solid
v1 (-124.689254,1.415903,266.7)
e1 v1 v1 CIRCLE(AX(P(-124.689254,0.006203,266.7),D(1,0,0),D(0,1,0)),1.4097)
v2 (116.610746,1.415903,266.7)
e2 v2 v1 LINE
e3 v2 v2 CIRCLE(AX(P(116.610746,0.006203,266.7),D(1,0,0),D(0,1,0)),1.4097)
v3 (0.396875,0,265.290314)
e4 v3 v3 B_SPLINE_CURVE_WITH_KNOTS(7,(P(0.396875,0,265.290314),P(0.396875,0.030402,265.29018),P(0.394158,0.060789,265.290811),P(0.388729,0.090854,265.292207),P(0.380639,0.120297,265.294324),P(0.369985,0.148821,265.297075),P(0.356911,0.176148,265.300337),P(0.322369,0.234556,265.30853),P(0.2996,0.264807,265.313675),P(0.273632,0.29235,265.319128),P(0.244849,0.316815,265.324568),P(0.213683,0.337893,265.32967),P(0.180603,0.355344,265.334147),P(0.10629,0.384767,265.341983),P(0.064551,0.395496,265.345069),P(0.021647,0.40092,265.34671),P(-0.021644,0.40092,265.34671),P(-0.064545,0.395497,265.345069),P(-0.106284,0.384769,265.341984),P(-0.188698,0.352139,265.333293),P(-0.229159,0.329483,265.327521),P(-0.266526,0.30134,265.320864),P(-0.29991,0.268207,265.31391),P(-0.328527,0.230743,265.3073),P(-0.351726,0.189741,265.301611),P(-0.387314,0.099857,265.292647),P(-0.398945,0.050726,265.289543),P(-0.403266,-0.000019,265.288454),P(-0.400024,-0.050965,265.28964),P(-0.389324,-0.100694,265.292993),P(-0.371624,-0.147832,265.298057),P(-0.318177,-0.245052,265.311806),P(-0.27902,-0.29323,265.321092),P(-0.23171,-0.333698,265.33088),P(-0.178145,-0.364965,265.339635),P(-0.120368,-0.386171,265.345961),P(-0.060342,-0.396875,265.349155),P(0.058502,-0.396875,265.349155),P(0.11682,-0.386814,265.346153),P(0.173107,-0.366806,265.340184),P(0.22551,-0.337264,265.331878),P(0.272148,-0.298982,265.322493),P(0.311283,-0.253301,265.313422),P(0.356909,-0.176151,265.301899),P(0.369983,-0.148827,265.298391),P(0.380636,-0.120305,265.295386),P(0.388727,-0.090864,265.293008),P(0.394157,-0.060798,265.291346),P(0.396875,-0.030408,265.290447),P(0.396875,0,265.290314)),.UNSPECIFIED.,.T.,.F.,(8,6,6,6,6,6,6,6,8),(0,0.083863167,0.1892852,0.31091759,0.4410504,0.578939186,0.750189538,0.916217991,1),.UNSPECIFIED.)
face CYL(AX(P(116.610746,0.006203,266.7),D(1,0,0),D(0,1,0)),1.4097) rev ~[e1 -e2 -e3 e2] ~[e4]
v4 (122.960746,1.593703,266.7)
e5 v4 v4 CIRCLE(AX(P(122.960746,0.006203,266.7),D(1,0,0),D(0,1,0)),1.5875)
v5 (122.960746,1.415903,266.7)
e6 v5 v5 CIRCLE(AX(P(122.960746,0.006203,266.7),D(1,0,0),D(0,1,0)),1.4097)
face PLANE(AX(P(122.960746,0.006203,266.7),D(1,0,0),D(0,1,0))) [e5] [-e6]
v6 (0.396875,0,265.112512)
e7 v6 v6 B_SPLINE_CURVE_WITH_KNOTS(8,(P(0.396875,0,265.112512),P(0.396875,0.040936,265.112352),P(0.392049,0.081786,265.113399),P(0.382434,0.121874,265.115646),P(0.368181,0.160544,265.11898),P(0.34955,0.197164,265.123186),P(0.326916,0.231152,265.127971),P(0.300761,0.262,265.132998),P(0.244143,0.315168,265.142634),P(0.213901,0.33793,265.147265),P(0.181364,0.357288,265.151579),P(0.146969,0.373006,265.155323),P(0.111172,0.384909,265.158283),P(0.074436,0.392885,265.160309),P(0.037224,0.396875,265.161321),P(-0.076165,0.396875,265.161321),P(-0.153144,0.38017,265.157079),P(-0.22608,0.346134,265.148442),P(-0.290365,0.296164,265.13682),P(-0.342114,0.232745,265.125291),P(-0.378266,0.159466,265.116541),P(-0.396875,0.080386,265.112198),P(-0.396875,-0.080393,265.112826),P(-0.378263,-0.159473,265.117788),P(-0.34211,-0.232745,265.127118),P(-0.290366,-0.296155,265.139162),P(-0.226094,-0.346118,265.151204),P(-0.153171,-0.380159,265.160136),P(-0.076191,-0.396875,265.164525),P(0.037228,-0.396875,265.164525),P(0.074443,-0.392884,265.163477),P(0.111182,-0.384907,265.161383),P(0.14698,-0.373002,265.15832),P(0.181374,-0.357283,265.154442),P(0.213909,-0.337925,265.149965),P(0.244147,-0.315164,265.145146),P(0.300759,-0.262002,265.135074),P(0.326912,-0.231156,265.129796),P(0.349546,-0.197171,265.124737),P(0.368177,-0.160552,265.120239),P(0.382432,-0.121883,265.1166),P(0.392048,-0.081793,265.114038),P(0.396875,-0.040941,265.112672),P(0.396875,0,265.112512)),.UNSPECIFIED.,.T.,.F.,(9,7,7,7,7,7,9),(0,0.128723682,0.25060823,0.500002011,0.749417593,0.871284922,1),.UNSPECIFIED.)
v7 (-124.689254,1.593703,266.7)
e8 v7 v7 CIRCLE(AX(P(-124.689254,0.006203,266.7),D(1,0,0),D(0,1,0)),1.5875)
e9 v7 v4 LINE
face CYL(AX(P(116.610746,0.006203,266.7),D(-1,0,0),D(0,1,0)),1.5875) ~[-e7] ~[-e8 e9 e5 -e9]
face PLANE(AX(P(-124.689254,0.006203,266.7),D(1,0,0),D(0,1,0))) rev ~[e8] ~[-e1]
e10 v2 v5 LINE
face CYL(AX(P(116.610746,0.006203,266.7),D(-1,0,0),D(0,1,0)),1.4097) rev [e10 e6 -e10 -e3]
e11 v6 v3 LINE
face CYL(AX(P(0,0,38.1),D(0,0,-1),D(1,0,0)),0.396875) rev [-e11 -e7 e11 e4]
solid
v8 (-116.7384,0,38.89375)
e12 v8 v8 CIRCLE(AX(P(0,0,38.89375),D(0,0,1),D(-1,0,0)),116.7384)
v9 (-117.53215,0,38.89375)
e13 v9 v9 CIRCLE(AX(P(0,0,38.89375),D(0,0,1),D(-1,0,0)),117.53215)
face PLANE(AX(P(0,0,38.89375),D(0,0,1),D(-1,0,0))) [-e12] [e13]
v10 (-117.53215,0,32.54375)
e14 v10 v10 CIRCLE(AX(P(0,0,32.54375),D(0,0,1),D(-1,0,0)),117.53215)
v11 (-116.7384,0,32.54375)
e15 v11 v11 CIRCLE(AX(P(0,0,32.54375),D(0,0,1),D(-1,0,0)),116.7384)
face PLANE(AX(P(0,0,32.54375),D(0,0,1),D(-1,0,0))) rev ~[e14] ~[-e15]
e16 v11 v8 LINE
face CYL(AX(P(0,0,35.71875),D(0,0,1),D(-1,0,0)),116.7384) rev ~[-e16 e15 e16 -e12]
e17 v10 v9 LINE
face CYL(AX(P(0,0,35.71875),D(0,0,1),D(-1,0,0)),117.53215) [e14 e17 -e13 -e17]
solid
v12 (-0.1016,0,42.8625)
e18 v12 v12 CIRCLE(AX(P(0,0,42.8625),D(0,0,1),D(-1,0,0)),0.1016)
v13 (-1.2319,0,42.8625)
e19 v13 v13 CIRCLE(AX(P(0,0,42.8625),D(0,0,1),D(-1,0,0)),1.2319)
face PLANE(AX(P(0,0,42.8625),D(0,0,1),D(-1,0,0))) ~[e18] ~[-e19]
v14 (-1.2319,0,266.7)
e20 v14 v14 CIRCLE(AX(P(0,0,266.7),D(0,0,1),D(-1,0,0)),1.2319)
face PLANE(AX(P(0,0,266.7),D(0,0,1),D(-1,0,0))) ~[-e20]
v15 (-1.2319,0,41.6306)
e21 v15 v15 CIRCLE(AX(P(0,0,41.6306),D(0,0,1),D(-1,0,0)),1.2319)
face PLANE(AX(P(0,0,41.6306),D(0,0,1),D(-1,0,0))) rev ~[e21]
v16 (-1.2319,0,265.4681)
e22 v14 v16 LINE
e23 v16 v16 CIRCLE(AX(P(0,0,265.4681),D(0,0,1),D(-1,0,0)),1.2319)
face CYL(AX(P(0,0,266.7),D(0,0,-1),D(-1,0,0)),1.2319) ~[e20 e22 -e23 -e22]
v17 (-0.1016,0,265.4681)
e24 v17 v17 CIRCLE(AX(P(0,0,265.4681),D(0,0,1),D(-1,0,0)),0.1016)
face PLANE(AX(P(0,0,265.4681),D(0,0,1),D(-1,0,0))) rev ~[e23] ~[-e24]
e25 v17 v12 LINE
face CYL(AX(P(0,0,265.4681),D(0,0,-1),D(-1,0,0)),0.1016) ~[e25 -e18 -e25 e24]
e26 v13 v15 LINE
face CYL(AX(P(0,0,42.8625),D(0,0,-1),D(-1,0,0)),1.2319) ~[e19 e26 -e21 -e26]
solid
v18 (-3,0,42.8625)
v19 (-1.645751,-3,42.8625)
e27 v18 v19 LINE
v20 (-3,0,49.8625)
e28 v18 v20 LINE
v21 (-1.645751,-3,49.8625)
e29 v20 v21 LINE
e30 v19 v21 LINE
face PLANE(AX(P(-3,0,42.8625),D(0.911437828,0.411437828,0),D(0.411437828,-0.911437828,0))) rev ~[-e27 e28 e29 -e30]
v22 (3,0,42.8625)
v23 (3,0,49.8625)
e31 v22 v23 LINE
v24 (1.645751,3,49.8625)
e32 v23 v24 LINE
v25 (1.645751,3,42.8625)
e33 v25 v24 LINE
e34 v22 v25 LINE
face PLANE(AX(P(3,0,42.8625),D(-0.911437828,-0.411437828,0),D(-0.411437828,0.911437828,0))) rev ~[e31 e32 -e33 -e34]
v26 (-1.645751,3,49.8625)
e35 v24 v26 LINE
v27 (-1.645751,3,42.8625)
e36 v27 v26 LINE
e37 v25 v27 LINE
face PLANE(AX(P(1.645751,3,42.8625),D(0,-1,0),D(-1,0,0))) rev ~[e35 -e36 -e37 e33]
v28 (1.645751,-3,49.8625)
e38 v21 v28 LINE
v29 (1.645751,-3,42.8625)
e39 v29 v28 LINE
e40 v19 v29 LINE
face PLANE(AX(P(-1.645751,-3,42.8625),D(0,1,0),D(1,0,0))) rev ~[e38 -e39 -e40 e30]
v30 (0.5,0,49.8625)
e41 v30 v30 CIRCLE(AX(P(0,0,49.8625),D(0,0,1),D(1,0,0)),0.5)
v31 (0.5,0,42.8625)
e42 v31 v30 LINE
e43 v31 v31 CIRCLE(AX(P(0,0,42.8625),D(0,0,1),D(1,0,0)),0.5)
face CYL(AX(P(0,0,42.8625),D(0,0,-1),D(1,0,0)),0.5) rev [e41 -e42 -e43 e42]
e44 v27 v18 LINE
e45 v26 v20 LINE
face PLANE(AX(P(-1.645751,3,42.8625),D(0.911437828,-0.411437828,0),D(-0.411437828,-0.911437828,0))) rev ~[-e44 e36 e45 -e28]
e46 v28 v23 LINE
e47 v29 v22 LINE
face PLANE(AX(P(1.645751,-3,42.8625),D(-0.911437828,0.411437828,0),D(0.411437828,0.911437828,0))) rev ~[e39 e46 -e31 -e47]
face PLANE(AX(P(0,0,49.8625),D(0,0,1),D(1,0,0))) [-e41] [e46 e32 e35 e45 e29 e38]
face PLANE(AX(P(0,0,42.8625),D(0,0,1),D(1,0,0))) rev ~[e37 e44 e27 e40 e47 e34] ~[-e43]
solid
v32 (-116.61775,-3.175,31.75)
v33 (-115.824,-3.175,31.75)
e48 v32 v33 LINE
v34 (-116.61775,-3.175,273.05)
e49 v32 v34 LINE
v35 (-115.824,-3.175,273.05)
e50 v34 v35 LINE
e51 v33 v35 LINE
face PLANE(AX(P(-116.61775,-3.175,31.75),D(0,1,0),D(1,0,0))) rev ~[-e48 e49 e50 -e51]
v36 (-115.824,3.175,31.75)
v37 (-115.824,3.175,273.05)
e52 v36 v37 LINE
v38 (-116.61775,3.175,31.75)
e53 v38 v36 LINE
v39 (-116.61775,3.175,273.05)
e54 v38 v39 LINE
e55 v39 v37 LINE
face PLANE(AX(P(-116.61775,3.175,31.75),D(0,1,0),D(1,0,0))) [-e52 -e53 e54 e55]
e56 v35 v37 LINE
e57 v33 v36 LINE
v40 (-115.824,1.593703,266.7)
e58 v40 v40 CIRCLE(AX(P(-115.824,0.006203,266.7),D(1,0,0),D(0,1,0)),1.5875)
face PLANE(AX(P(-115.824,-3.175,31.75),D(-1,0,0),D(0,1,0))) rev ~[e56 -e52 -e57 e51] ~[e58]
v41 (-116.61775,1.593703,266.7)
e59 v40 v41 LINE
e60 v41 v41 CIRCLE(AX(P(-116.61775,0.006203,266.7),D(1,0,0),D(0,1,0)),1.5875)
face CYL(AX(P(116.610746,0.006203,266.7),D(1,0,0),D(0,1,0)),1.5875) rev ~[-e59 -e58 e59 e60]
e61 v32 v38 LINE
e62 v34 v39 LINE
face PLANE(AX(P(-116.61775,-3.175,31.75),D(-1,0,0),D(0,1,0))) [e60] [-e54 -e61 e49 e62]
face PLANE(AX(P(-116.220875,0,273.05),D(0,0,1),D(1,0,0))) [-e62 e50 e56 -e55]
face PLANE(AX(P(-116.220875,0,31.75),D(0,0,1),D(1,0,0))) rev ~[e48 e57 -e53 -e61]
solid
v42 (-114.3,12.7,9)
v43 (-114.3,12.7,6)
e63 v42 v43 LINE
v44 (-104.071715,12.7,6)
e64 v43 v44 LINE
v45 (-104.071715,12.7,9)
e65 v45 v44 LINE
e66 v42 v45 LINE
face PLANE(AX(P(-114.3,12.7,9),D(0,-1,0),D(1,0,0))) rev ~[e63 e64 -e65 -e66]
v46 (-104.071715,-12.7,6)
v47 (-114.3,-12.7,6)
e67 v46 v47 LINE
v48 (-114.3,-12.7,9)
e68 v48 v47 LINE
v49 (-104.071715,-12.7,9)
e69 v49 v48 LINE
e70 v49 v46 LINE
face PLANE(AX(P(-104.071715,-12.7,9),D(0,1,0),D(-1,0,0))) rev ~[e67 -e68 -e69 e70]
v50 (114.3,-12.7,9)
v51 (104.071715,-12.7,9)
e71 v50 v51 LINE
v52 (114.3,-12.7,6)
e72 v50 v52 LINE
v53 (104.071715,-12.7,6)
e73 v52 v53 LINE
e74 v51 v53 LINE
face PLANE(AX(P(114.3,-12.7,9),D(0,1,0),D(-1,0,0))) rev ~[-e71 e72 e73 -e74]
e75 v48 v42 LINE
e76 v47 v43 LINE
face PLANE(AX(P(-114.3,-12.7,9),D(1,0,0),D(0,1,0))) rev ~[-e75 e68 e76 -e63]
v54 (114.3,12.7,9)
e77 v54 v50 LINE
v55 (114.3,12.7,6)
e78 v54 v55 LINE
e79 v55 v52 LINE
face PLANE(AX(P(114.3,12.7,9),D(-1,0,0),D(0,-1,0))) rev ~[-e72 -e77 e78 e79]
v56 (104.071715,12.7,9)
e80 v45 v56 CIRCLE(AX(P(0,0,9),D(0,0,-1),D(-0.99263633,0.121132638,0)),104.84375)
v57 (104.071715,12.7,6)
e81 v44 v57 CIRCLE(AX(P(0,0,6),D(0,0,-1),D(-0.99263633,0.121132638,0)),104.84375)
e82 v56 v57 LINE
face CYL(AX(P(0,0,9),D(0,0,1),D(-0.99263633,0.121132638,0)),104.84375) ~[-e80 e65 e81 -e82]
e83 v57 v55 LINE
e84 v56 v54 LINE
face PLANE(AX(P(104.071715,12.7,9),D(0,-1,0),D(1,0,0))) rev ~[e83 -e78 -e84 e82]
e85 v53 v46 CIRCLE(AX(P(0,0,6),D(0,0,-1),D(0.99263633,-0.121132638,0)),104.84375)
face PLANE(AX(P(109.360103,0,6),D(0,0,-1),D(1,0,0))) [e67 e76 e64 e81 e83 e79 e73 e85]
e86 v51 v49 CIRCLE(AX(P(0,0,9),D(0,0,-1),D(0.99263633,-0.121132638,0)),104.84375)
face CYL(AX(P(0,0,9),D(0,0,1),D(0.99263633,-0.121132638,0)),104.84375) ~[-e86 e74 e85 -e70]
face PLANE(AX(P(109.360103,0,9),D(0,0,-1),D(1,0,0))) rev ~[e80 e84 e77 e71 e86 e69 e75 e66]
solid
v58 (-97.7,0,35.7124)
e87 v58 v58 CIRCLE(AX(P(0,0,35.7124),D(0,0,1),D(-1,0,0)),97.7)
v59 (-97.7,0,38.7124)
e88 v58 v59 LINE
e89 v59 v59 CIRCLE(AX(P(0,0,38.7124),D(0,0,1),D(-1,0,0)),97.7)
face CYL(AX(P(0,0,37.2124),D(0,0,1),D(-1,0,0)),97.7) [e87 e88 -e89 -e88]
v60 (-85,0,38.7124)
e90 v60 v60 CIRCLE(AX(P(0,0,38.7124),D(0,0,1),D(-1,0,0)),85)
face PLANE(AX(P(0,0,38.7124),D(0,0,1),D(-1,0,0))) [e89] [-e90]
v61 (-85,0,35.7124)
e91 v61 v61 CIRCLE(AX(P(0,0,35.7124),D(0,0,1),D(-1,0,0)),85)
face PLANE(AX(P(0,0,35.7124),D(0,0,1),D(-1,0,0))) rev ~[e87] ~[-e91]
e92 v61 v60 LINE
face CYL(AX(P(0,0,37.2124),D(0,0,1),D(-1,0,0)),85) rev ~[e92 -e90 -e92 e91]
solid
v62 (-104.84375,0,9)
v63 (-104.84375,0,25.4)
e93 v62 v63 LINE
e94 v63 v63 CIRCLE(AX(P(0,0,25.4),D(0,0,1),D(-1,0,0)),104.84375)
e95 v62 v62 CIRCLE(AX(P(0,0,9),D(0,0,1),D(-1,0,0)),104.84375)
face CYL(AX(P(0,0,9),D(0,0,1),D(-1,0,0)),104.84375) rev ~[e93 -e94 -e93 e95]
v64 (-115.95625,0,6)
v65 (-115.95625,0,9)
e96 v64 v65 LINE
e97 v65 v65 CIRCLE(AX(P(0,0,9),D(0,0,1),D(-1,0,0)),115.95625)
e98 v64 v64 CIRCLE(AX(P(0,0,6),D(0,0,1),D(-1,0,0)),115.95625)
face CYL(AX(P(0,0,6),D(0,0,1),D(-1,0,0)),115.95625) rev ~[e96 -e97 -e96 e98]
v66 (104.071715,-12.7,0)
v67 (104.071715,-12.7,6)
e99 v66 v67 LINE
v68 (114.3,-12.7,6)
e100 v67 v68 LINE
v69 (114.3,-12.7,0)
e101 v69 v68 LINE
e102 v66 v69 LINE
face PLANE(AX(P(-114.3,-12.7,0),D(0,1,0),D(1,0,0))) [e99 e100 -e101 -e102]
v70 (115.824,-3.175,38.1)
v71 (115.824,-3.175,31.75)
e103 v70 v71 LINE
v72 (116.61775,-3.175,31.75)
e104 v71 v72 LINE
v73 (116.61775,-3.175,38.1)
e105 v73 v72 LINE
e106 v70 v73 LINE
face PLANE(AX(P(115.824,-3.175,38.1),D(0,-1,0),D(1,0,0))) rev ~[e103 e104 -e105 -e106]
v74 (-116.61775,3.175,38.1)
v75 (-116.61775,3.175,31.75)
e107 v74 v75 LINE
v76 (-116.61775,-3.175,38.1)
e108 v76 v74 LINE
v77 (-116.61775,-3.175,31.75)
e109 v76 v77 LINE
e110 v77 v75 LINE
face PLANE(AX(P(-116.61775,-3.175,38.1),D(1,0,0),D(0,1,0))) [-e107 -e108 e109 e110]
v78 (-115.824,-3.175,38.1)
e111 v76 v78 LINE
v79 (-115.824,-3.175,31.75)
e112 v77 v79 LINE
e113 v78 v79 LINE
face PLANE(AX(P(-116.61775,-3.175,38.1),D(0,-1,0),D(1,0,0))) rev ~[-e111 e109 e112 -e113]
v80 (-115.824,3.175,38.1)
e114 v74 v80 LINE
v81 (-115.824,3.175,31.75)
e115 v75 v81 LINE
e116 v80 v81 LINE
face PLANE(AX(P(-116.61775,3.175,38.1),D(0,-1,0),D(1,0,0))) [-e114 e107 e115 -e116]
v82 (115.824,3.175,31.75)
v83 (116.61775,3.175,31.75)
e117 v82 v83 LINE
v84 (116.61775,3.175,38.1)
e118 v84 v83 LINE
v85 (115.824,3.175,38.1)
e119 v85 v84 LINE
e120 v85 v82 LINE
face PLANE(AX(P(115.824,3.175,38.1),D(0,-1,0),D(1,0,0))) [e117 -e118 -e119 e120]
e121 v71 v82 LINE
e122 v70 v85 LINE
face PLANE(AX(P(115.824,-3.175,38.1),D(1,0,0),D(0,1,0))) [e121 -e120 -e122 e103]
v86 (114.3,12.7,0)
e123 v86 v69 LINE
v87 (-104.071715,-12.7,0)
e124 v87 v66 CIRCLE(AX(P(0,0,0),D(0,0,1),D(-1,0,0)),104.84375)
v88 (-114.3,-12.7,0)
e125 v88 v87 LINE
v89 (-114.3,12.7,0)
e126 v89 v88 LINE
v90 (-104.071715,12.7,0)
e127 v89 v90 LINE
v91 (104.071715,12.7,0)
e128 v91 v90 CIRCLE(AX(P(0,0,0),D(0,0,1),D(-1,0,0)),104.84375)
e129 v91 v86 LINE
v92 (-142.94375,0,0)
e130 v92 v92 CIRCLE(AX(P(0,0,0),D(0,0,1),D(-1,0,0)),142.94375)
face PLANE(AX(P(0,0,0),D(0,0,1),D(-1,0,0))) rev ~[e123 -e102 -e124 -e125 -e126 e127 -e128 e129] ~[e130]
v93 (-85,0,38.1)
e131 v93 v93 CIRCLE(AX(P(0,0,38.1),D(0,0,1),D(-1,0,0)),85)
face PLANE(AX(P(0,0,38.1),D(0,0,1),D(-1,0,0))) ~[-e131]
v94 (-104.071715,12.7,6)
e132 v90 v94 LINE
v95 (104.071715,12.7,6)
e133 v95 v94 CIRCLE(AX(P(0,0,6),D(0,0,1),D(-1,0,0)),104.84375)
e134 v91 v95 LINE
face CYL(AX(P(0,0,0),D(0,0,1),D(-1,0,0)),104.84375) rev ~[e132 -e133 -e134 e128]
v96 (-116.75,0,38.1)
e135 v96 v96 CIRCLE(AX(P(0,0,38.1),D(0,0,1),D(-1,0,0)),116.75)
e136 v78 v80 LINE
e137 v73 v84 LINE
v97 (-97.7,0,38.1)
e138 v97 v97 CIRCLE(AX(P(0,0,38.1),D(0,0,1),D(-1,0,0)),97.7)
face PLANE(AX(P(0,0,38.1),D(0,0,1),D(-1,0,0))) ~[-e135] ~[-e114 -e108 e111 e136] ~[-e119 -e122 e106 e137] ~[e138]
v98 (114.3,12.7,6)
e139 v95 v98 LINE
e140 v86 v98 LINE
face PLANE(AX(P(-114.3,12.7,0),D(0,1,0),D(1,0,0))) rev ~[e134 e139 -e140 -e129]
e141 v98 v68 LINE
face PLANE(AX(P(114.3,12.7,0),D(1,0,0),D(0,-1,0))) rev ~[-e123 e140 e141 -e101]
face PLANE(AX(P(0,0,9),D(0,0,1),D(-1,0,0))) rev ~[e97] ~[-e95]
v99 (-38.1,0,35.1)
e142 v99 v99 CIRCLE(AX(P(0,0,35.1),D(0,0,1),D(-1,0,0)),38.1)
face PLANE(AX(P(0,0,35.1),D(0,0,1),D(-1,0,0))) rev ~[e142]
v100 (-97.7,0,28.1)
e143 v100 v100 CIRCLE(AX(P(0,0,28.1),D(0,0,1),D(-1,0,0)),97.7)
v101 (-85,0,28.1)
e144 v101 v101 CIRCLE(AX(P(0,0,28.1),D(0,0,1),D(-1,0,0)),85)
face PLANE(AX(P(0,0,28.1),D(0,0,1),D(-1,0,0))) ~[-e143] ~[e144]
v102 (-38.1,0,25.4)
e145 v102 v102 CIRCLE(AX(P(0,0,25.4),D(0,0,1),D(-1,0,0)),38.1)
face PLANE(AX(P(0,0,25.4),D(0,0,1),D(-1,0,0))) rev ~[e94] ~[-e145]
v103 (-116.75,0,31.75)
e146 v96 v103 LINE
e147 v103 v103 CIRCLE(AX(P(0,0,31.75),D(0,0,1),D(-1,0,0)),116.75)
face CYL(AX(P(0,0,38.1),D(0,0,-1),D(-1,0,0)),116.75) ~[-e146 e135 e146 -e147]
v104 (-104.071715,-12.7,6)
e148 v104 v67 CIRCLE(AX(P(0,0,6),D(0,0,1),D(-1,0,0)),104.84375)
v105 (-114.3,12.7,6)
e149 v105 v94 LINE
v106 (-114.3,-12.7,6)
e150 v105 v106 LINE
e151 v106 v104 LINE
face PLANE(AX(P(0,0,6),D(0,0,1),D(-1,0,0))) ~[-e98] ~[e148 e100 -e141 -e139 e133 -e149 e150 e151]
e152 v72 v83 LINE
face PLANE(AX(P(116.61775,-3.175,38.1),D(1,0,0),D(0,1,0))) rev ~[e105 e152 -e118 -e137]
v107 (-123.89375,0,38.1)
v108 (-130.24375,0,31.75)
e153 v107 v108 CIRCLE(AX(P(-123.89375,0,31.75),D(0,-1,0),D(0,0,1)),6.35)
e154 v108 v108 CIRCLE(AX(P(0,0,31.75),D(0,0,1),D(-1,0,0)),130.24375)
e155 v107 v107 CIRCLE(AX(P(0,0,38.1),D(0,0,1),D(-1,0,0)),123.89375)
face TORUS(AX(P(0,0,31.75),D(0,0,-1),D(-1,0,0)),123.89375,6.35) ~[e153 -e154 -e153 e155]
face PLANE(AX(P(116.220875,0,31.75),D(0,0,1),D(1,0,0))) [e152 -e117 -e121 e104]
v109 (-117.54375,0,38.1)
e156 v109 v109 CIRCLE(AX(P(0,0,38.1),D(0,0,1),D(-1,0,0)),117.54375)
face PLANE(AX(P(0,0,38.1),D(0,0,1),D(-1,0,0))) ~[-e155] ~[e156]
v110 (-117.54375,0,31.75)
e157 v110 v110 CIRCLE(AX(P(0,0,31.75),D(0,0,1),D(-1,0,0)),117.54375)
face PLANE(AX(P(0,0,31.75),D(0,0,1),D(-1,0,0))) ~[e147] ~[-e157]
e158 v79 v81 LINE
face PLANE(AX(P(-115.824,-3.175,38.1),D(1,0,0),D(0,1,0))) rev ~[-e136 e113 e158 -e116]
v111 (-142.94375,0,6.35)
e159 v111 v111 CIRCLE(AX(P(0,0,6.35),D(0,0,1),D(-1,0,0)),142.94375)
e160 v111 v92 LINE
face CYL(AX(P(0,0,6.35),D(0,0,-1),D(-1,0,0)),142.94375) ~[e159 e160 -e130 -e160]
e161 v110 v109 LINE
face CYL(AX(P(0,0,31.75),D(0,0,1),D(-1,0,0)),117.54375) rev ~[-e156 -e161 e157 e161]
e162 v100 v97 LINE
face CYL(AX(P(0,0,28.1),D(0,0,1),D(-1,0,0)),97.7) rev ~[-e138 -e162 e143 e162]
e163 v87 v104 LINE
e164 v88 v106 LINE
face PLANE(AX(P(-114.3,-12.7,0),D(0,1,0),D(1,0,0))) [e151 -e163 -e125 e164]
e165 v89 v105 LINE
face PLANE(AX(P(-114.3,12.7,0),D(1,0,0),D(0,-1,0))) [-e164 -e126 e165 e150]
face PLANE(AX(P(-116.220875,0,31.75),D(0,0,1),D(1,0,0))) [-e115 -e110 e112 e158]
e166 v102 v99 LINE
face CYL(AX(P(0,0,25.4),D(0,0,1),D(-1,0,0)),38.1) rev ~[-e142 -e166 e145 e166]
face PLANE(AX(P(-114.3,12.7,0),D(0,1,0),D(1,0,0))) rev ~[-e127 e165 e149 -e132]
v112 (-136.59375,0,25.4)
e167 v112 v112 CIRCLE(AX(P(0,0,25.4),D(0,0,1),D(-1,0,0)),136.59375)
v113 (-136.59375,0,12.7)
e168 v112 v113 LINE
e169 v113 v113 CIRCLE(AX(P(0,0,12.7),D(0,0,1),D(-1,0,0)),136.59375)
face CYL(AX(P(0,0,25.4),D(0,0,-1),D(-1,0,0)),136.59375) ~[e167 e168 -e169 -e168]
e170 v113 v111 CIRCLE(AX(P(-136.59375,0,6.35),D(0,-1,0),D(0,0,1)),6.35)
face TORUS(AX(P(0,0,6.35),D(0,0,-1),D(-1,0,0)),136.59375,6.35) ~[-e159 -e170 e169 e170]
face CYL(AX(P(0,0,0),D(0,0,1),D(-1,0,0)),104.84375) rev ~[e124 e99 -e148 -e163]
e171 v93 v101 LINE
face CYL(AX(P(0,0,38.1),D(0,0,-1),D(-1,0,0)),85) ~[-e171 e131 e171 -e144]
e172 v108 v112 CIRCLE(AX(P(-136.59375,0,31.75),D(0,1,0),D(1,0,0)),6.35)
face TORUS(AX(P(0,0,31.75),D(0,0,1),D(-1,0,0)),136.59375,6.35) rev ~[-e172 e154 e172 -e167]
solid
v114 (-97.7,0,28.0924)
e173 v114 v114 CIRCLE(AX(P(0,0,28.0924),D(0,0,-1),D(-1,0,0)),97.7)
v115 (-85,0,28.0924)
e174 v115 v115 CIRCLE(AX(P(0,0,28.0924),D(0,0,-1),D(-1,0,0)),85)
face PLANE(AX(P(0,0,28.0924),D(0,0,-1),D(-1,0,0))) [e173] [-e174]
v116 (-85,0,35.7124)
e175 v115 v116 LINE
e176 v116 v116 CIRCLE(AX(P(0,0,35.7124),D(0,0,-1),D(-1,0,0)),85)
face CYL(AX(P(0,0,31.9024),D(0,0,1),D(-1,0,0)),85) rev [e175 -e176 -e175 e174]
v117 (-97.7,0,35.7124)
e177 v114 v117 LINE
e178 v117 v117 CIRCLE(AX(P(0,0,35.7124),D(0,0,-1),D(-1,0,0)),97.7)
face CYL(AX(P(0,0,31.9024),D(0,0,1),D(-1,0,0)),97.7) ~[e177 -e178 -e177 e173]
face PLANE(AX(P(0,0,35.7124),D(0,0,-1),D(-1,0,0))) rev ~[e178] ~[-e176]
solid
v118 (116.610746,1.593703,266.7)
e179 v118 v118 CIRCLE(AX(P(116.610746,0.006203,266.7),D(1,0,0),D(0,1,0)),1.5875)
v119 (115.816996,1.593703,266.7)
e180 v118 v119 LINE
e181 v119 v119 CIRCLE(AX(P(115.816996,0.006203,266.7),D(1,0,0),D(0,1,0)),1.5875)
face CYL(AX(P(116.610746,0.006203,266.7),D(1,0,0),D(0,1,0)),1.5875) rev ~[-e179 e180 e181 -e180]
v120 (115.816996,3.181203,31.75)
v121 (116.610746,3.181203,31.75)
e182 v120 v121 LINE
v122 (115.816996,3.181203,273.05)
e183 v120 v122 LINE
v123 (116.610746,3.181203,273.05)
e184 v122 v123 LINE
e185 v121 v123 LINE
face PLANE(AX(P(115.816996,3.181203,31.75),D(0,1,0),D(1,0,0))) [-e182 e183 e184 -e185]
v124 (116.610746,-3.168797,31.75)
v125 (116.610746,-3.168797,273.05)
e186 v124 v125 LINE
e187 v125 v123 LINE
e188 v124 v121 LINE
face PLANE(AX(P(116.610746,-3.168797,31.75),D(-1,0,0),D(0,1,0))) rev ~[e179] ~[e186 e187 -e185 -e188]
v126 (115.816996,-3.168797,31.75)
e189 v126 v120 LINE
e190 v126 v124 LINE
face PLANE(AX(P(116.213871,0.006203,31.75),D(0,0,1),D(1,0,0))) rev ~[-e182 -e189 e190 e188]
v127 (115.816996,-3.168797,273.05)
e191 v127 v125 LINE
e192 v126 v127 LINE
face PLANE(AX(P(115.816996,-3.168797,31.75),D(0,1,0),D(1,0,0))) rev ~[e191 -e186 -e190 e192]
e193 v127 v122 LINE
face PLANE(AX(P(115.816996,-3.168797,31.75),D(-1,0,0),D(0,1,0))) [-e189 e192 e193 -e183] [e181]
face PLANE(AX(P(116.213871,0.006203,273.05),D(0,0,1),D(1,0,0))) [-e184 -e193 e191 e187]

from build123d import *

# Parameters (mm, degrees)
F2_W           = 228.6
F2_H           = 25.4
F3_DEPTH       = 9
F4_W           = 0.79375
F4_H           = 6.35
F5_DEPTH       = 6.35
F6_W           = 12.7
F6_H           = 7.62
F8_W           = 12.7
F8_H           = 3
F10_W          = 0.79375
F10_H          = 6.35
F13_DEPTH      = 3
F14_W          = 0.79375
F14_H          = 6.35
F15_DEPTH      = 241.3
F16_R          = 1.5875
F17_DEPTH      = 259.5554955015
F18_R          = 1.5875
F18_R_2        = 1.4097
F19_DEPTH      = 241.3
F19_DEPTH_BACK = 6.35
F20_R          = 0.396875
F21_DEPTH      = 228.6
F24_R          = 1.2319
F24_R_2        = 0.5
F25_DEPTH      = 7


with BuildPart() as f1:
    # F0 (on Front) → F1 (revolve)
    with BuildSketch(Plane.XZ):
        with BuildLine():
            Line((0, 35.1), (0, 38.1))
            Line((0, 38.1), (-85, 38.1))
            Line((-85, 38.1), (-85, 28.1))
            Line((-85, 28.1), (-97.7, 28.1))
            Line((-97.7, 28.1), (-97.7, 38.1))
            Line((-97.7, 38.1), (-116.75, 38.1))
            Line((-116.75, 38.1), (-116.75, 31.75))
            Line((-116.75, 31.75), (-117.54375, 31.75))
            Line((-117.54375, 31.75), (-117.54375, 38.1))
            Line((-117.54375, 38.1), (-123.89375, 38.1))
            ThreePointArc((-123.89375, 38.1), (-128.3838780605, 36.2401280605), (-130.24375, 31.75))
            ThreePointArc((-130.24375, 31.75), (-132.1036219395, 27.2598719395), (-136.59375, 25.4))
            Line((-136.59375, 25.4), (-136.59375, 12.7))
            ThreePointArc((-136.59375, 12.7), (-141.0838780605, 10.8401280605), (-142.94375, 6.35))
            Line((-142.94375, 6.35), (-142.94375, 0))
            Line((-142.94375, 0), (-104.84375, 0))
            Line((-104.84375, 0), (-104.84375, 6))
            Line((-104.84375, 6), (-115.95625, 6))
            Line((-115.95625, 6), (-115.95625, 9))
            Line((-115.95625, 9), (-104.84375, 9))
            Line((-104.84375, 9), (-104.84375, 25.4))
            Line((-104.84375, 25.4), (-38.1, 25.4))
            Line((-38.1, 25.4), (-38.1, 35.1))
            Line((-38.1, 35.1), (0, 35.1))
        make_face()
    revolve(axis=Axis((0, 0, 36.6), (0, 0, 1)))

    # F2 (on face) → F3 (cut, through all)
    with BuildSketch(Plane(origin=(0, 0, 0), x_dir=(1, 0, 0), z_dir=(0, 0, -1))):
        Rectangle(F2_W, F2_H)
    extrude(amount=-F3_DEPTH, mode=Mode.SUBTRACT)

    # F4 (on face) → F5 (cut)
    with BuildSketch(Plane.XY.offset(38.1)):
        with Locations((-116.220875, 0)):
            Rectangle(F4_W, F4_H)
        with Locations((116.220875, 0)):
            Rectangle(F4_W, F4_H)
    extrude(amount=-F5_DEPTH, mode=Mode.SUBTRACT)


with BuildPart() as f7:
    # F6 (on Front) → F7 (revolve)
    with BuildSketch(Plane.XZ):
        with Locations((-91.35, 31.9024)):
            Rectangle(F6_W, F6_H)
    revolve(axis=Axis((0, 0, 31.9024), (0, 0, -1)))


with BuildPart() as f9:
    # F8 (on Front) → F9 (revolve)
    with BuildSketch(Plane.XZ):
        with Locations((-91.35, 37.2124)):
            Rectangle(F8_W, F8_H)
    revolve(axis=Axis((0, 0, 37.2124), (0, 0, 1)))


with BuildPart() as f11:
    # F10 (on Front) → F11 (revolve)
    with BuildSketch(Plane.XZ):
        with Locations((-117.135275, 35.71875)):
            Rectangle(F10_W, F10_H)
    revolve(axis=Axis((0, 0, 16.271875), (0, 0, 1)))


with BuildPart() as f13:
    # F12 (on face) → F13 (new body)
    with BuildSketch(Plane(origin=(0, 0, 9), x_dir=(1, 0, 0), z_dir=(0, 0, -1))):
        with BuildLine():
            Line((114.3, 12.7), (104.0717152451, 12.7))
            ThreePointArc((104.0717152451, 12.7), (104.6505633269, 6.3617222052), (104.84375, 0))
            ThreePointArc((104.84375, 0), (104.6505633269, -6.3617222052), (104.0717152451, -12.7))
            Line((104.0717152451, -12.7), (114.3, -12.7))
            Line((114.3, -12.7), (114.3, 12.7))
        make_face()
        with BuildLine():
            ThreePointArc((-104.0717152451, -12.7), (-104.84375, 0), (-104.0717152451, 12.7))
            Line((-104.0717152451, 12.7), (-114.3, 12.7))
            Line((-114.3, 12.7), (-114.3, -12.7))
            Line((-114.3, -12.7), (-104.0717152451, -12.7))
        make_face()
        with BuildLine():
            ThreePointArc((104.84375, 0), (104.6505633269, 6.3617222052), (104.0717152451, 12.7))
            ThreePointArc((104.0717152451, 12.7), (0, 104.84375), (-104.0717152451, 12.7))
            ThreePointArc((-104.0717152451, 12.7), (-104.84375, 0), (-104.0717152451, -12.7))
            ThreePointArc((-104.0717152451, -12.7), (0, -104.84375), (104.0717152451, -12.7))
            ThreePointArc((104.0717152451, -12.7), (104.6505633269, -6.3617222052), (104.84375, 0))
        make_face()
    extrude(amount=F13_DEPTH)


with BuildPart() as f15:
    # F14 (on face) → F15 (new body)
    with BuildSketch(Plane.XY.offset(31.75)):
        with Locations((116.2138705015, 0.0062028795)):
            Rectangle(F14_W, F14_H)
    extrude(amount=F15_DEPTH)


with BuildPart() as f15b:
    # F14 (on face) → F15, piece 2 (new body)
    with BuildSketch(Plane.XY.offset(31.75)):
        with Locations((-116.220875, 0)):
            Rectangle(F14_W, F14_H)
    extrude(amount=F15_DEPTH)


with BuildPart() as f17_tool:
    # F16 (on face) → F17 (new body, through all)
    with BuildSketch(Plane.YZ.offset(116.6107455015)):
        with Locations((0.0062028795, 266.7)):
            Circle(F16_R)
    extrude(amount=-F17_DEPTH)


with BuildPart() as f15_1:
    add(f15.part)

    # F17: cut by f17_tool
    add(f17_tool.part, mode=Mode.SUBTRACT)


with BuildPart() as f15b_1:
    add(f15b.part)

    # F17: cut by f17_tool
    add(f17_tool.part, mode=Mode.SUBTRACT)


with BuildPart() as f19:
    # F18 (on face) → F19 (new body, two sides)
    with BuildSketch(Plane.YZ.offset(116.6107455015)) as f19_sk:
        with Locations((0.0062028795, 266.7)):
            Circle(F18_R)
        with Locations((0.0062028795, 266.7)):
            Circle(F18_R_2, mode=Mode.SUBTRACT)
    extrude(amount=-F19_DEPTH)
    extrude(f19_sk.sketch, amount=F19_DEPTH_BACK)

    # F20 (on face) → F21 (cut)
    with BuildSketch(Plane.XY.offset(38.1)):
        Circle(F20_R)
    extrude(amount=F21_DEPTH, mode=Mode.SUBTRACT)


with BuildPart() as f23:
    # F22 (on Front) → F23 (revolve)
    with BuildSketch(Plane.XZ):
        Polygon((0, 41.6306), (0, 266.7), (-1.2319, 266.7), (-1.2319, 265.4681), (-0.1016, 265.4681), (-0.1016, 265.1125), (-0.1016, 42.8625), (-1.2319, 42.8625), (-1.2319, 41.6306), align=None)
    revolve(axis=Axis((0, 0, 154.1653), (0, 0, 1)))


with BuildPart() as f25:
    # F24 (on face) → F25 (new body)
    with BuildSketch(Plane.XY.offset(42.8625)):
        Polygon((1.6457513111, 3), (-1.6457513111, 3), (-3, 0), (-1.6457513111, -3), (1.6457513111, -3), (3, 0), align=None)
        Circle(F24_R, mode=Mode.SUBTRACT)
        Circle(F24_R)
        Circle(F24_R_2, mode=Mode.SUBTRACT)
    extrude(amount=F25_DEPTH)


solid = Compound([f1.part, f7.part, f9.part, f11.part, f13.part, f15_1.part, f15b_1.part, f19.part, f23.part, f25.part])
